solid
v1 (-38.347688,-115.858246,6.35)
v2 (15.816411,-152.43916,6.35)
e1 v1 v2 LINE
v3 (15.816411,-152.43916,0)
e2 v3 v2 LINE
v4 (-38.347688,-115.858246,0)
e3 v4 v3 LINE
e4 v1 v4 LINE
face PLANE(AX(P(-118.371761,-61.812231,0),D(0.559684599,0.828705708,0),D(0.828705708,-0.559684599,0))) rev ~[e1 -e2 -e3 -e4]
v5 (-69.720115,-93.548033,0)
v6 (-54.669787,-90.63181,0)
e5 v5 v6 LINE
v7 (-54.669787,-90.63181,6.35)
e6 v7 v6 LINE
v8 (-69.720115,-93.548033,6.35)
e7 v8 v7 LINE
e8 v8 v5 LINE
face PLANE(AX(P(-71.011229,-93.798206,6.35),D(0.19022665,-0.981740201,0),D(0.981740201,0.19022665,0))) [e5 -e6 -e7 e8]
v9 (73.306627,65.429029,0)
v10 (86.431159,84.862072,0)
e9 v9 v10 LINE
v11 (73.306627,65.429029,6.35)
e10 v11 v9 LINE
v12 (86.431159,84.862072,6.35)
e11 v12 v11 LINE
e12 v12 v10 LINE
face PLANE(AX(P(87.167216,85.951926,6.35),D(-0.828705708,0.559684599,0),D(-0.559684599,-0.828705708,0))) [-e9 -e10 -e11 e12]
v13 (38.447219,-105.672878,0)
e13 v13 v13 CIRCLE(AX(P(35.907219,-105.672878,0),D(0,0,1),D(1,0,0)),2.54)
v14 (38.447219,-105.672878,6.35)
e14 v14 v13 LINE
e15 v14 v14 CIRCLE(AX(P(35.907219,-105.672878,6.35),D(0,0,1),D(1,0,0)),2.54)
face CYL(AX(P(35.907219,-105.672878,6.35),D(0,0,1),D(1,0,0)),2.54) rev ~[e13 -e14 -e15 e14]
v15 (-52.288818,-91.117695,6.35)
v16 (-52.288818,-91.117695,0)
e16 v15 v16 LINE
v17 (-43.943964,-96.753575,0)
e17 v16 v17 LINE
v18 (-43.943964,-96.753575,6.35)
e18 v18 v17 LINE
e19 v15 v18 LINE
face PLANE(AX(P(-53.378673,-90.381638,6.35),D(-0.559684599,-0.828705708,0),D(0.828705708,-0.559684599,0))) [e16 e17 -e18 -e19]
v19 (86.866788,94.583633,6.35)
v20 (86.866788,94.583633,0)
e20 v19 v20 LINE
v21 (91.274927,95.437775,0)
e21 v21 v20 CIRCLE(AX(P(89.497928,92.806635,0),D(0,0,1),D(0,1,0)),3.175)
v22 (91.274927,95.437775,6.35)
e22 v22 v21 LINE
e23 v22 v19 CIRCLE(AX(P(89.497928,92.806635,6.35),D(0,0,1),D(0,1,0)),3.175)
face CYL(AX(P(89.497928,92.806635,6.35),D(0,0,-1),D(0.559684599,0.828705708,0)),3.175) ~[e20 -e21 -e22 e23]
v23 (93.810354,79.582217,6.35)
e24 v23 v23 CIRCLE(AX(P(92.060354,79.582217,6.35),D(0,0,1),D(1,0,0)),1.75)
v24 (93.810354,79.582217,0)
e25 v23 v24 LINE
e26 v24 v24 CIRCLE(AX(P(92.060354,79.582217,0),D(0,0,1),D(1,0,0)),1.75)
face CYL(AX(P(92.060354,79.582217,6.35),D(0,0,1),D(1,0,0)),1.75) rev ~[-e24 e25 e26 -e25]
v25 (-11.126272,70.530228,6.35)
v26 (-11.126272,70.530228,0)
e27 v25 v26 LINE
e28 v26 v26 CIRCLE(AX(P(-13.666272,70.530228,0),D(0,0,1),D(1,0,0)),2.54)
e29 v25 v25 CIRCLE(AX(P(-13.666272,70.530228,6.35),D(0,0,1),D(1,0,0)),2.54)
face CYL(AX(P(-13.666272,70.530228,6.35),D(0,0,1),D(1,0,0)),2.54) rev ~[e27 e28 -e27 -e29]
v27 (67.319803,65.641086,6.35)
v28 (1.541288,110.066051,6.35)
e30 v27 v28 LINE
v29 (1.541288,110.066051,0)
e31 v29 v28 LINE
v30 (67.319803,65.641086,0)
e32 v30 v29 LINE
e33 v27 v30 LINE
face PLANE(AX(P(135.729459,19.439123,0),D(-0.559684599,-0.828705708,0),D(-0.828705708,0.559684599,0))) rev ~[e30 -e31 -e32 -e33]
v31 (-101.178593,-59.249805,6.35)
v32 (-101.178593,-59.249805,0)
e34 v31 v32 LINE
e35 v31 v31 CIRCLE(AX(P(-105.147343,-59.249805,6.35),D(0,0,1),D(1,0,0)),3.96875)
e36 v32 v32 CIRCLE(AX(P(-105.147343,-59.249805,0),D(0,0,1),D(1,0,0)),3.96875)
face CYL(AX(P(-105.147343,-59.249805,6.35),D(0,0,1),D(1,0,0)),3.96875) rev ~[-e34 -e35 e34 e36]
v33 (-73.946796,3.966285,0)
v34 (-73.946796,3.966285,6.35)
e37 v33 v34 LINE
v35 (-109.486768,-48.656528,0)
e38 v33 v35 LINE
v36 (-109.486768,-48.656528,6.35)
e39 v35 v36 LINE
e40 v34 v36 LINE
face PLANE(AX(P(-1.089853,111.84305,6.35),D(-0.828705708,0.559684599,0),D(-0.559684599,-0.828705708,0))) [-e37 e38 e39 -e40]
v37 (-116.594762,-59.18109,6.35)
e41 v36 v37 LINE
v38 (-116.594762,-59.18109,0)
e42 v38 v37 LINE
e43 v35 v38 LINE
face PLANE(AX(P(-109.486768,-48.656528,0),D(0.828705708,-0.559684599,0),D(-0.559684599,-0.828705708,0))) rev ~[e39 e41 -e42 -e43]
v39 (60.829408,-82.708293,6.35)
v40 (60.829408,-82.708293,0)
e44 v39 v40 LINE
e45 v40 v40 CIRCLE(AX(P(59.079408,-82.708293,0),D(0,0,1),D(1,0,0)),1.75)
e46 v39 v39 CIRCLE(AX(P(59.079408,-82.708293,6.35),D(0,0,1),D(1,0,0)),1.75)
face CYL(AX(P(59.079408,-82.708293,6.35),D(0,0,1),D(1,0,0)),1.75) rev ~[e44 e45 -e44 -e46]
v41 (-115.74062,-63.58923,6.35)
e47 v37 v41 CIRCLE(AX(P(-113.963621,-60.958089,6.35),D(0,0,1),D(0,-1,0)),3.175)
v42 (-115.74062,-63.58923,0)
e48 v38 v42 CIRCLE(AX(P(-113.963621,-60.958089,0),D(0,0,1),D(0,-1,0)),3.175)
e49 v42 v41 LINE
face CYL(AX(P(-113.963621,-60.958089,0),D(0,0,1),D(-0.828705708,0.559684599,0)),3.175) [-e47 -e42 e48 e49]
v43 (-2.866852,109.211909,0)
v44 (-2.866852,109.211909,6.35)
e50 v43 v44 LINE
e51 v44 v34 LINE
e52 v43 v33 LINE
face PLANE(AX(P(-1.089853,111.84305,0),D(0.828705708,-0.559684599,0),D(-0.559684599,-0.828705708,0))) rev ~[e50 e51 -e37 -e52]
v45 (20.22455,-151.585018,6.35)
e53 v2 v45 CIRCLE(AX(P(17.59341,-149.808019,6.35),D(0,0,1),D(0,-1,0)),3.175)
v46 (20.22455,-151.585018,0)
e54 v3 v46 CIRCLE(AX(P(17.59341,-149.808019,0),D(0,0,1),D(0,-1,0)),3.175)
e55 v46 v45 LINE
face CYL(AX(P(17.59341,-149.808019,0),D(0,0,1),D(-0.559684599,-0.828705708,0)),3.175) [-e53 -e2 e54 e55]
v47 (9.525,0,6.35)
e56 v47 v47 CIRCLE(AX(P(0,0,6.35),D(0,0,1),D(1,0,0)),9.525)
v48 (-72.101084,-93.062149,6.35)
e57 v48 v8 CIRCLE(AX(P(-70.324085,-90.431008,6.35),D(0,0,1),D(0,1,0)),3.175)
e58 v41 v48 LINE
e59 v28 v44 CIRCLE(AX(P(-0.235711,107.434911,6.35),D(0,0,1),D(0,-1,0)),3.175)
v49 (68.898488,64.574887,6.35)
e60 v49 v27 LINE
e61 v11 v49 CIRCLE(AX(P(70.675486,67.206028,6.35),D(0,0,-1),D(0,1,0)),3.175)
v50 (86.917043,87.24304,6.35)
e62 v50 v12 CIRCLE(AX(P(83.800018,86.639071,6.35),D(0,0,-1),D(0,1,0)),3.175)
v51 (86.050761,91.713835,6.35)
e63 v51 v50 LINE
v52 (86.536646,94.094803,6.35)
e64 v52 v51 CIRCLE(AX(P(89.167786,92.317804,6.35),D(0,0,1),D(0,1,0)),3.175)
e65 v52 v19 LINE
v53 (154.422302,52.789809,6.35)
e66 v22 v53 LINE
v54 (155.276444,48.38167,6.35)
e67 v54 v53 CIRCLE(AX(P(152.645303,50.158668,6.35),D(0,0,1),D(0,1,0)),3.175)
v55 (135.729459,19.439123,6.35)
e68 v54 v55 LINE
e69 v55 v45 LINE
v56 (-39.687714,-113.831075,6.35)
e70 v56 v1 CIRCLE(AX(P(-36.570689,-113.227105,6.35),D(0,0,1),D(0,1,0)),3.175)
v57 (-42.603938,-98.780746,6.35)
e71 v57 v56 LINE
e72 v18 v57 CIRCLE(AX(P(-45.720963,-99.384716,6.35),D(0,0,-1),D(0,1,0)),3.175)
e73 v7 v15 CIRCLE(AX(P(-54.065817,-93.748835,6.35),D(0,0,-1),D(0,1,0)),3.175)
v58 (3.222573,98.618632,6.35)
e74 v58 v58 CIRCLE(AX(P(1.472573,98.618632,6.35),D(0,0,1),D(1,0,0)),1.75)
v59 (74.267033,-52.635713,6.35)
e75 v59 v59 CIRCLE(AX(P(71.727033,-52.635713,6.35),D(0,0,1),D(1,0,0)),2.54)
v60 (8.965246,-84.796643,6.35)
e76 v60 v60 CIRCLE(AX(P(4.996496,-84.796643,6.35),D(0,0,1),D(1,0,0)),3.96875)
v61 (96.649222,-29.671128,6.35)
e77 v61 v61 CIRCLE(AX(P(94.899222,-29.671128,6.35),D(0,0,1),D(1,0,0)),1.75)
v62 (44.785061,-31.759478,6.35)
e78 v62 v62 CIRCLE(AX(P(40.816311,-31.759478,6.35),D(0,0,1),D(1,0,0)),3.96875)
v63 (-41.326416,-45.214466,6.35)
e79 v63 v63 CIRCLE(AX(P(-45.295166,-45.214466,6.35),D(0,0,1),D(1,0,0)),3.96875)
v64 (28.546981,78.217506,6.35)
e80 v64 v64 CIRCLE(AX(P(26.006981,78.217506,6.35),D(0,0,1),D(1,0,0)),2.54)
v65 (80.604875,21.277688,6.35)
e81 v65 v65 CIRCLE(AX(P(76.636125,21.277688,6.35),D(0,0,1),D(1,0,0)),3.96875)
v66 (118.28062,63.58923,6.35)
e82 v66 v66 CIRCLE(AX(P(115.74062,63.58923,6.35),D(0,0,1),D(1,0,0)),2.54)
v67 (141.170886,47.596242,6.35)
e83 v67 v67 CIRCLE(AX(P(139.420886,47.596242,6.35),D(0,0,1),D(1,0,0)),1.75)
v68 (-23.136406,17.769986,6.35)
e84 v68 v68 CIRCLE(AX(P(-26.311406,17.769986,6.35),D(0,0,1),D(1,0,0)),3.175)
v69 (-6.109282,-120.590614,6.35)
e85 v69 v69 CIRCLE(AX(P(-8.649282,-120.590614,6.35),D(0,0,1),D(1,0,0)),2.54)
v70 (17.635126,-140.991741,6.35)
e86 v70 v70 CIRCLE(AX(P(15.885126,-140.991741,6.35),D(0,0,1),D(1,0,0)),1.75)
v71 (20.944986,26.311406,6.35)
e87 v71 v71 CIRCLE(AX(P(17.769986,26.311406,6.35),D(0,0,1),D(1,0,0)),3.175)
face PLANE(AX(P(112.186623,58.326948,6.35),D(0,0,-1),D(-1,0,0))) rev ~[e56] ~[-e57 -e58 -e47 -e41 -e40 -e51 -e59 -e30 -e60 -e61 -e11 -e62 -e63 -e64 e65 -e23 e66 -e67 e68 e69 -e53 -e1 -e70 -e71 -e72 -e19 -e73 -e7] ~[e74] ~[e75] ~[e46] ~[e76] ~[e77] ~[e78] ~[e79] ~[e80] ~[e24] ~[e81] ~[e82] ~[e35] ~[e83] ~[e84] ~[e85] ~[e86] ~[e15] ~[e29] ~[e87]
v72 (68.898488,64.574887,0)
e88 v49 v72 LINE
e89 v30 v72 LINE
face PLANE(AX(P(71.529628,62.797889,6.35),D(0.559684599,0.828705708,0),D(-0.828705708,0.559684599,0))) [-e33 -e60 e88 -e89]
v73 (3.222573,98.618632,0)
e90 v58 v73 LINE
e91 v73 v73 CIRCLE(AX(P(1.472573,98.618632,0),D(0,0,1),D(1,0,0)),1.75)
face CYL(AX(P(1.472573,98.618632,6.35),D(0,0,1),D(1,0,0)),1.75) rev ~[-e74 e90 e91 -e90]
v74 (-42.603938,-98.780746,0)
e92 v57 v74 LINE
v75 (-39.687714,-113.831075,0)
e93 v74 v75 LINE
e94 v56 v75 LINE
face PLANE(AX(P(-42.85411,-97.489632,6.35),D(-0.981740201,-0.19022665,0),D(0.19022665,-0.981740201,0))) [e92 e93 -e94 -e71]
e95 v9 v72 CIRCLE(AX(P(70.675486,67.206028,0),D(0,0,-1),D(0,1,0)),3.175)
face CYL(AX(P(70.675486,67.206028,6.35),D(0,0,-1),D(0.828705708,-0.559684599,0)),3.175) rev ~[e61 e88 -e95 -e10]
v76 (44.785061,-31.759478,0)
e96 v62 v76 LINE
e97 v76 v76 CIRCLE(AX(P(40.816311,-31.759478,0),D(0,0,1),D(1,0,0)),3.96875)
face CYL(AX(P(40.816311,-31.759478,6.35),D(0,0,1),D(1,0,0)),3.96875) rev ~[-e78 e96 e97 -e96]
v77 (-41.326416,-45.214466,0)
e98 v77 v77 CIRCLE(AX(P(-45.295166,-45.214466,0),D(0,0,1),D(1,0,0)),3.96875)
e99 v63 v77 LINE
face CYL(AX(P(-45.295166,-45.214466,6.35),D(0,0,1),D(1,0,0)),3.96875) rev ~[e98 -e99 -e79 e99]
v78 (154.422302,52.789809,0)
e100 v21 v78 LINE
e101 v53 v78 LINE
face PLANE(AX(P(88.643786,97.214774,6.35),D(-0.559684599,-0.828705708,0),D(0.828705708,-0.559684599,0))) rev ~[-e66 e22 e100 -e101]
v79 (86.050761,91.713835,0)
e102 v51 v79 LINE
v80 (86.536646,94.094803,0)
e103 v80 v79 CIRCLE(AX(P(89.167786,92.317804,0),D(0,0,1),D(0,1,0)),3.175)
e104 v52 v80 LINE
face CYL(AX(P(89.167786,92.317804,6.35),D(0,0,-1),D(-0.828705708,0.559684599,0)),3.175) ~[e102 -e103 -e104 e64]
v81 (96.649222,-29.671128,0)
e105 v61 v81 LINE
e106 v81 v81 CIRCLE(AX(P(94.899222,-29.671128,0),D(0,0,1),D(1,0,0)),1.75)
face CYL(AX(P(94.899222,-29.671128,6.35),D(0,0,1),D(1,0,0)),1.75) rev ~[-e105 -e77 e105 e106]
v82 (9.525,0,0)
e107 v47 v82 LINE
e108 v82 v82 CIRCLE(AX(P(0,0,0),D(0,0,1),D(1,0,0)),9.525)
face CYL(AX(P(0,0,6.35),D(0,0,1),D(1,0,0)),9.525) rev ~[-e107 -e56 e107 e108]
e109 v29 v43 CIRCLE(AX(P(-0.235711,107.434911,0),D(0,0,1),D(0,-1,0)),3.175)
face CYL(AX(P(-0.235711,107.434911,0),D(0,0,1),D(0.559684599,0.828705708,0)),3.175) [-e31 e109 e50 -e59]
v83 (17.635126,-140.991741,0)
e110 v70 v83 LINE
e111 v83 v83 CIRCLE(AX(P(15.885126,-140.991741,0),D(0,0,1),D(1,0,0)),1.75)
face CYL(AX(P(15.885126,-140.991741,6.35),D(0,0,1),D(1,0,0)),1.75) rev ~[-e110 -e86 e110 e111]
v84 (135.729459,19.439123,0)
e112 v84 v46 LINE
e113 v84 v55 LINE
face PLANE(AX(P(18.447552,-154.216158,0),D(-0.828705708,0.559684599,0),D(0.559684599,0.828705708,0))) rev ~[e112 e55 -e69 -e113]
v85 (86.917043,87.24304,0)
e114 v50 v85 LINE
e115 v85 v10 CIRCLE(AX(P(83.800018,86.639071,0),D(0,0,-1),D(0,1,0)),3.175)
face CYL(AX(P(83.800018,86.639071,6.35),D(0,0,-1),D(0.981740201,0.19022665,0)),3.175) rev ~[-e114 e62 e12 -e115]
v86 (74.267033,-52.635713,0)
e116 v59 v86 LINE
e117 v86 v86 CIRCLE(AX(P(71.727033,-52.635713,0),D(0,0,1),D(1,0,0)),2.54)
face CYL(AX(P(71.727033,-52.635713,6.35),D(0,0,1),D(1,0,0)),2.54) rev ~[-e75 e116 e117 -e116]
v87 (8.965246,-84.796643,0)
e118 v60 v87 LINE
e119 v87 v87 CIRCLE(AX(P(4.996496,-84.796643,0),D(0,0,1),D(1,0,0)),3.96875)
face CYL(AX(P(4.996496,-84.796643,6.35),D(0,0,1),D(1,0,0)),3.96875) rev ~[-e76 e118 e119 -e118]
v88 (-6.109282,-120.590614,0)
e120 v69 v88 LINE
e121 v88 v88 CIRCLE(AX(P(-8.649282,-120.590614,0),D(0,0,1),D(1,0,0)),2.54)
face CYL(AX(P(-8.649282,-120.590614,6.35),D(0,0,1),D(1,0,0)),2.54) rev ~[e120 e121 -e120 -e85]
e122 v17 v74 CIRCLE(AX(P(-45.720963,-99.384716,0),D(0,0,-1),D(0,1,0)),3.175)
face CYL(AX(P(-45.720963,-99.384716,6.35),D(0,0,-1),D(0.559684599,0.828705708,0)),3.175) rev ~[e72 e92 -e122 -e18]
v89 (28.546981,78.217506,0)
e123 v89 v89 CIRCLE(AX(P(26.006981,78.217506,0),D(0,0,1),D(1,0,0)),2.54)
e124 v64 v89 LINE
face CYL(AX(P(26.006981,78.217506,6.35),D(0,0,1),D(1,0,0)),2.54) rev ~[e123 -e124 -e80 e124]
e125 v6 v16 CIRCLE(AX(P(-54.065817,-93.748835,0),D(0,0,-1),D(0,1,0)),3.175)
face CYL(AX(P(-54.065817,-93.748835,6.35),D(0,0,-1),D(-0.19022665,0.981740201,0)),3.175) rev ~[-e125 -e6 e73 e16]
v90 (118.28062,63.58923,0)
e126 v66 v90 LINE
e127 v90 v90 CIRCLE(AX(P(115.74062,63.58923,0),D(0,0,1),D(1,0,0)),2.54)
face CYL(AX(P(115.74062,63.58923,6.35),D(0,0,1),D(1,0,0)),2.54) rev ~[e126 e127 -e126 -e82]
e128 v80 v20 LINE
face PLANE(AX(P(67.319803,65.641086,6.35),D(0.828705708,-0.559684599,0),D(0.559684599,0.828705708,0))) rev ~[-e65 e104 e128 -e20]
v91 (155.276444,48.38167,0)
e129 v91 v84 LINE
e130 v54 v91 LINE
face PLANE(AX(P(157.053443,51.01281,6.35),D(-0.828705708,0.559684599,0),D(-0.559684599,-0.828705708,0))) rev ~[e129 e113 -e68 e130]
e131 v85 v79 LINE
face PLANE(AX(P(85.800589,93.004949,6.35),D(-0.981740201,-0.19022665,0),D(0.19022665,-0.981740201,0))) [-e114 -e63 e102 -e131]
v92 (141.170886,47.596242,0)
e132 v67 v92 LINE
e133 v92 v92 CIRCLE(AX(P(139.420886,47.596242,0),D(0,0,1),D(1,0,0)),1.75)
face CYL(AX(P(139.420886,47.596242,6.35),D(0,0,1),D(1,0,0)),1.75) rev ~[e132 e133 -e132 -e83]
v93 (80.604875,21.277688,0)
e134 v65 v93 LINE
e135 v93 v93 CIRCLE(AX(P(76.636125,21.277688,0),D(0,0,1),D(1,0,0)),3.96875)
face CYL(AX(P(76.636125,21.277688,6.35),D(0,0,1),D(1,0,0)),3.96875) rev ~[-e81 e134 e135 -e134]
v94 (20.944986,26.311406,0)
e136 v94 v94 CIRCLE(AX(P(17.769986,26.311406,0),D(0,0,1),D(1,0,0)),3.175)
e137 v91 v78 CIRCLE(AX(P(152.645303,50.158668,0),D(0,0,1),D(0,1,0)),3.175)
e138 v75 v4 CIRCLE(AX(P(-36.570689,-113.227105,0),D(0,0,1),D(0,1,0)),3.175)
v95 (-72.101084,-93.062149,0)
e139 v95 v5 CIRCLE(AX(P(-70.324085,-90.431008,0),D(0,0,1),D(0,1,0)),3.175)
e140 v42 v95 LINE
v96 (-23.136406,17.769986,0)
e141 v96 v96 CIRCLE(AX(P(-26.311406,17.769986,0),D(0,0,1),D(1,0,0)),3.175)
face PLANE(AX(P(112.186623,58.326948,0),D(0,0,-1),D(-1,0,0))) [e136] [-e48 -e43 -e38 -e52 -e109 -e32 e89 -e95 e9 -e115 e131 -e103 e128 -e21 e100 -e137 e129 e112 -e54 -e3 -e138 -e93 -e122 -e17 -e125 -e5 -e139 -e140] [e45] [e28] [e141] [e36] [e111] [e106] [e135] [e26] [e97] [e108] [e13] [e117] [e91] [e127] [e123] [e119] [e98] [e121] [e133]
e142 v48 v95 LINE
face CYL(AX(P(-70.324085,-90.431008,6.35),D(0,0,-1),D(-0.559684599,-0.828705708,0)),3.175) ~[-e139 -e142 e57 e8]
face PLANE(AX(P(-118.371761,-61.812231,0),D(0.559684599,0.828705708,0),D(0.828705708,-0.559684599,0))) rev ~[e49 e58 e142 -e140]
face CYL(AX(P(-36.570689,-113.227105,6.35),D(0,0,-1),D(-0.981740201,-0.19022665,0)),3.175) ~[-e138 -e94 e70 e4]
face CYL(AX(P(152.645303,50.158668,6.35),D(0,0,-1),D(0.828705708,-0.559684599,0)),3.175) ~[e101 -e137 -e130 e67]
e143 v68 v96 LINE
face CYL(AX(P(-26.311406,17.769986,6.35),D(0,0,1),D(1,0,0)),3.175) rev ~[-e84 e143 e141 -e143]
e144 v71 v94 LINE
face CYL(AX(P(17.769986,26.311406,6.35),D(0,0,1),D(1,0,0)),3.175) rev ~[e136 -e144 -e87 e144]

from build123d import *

# Parameters (mm, degrees)
BOSS_EXTRUDE2_DEPTH = 6.35
CUT_EXTRUDE1_DEPTH  = 7.3500001
BOSS_EXTRUDE3_DEPTH = 6.35
SKETCH10_R          = 3.96875
CUT_EXTRUDE2_DEPTH  = 7.35
SKETCH11_R          = 9.525
CUT_EXTRUDE4_DEPTH  = 7.35
BOSS_EXTRUDE4_DEPTH = 6.35
SKETCH13_R          = 1.75
CUT_EXTRUDE5_DEPTH  = 7.35
LPATTERN1_COUNT     = 2
LPATTERN1_PITCH     = 64
SKETCH14_R          = 2.54
CUT_EXTRUDE6_DEPTH  = 7.35
SKETCH15_R          = 1.75
CUT_EXTRUDE7_DEPTH  = 7.35
SKETCH16_R          = 1.75
CUT_EXTRUDE8_DEPTH  = 7.35
SKETCH17_R          = 1.75
CUT_EXTRUDE9_DEPTH  = 7.35
SKETCH19_R          = 3.96875
CUT_EXTRUDE11_DEPTH = 7.35
SKETCH21_R          = 2.54
CUT_EXTRUDE12_DEPTH = 7.35
SKETCH22_R          = 3.175
CUT_EXTRUDE13_DEPTH = 7.35
SKETCH23_R          = 3.96875
CUT_EXTRUDE14_DEPTH = 7.35
SKETCH24_R          = 4.285761756
SKETCH24_R_2        = 5.640780493
BOSS_EXTRUDE5_DEPTH = 6.35
CUT_EXTRUDE15_DEPTH = 7.35
FILLET1_R           = 3.175


with BuildPart() as part:
    # Sketch6 → Boss-Extrude2 (new body)
    with BuildSketch(Plane.XY):
        with BuildLine():
            Line((-68.006850091, -76.67090114), (-109.486767671, -48.656527855))
            Line((-109.486767671, -48.656527855), (-118.371760678, -61.812230963))
            Line((-118.371760678, -61.812230963), (18.447551645, -154.216158235))
            Line((18.447551645, -154.216158235), (135.729459338, 19.43912279))
            Line((135.729459338, 19.43912279), (-1.089852986, 111.843050063))
            Line((-1.089852986, 111.843050063), (-73.946795643, 3.966284577))
            Line((-73.946795643, 3.966284577), (-56.624438948, -7.732749433))
            ThreePointArc((-56.624438948, -7.732749433), (-43.058385537, 37.577891571), (0, 57.15))
            ThreePointArc((0, 57.15), (56.404848571, 31.095576642), (70.829334649, -29.338471048))
            add(Edge.make_bspline(
                [(70.829334649, -29.338471048), (70.811686062, -29.418295928), (70.776015112, -29.578104383), (70.713320217, -29.85478305), (70.619021771, -30.262929245), (70.501052001, -30.762086912), (70.364034474, -31.322191481), (70.199318515, -31.970958926), (70.000453855, -32.723919765), (69.795103485, -33.469783355), (69.582015398, -34.214296028), (69.361377803, -34.956693289), (69.133257682, -35.696762218), (68.838782679, -36.61892651), (68.470566207, -37.720710028), (68.019498024, -38.998776477), (67.474836154, -40.448808619), (66.901337925, -41.887676852), (66.299328392, -43.31485223), (65.669141732, -44.729810424), (65.011119088, -46.132040323), (64.325609411, -47.52103904), (63.612968547, -48.896314904), (62.87355937, -50.257385735), (62.107751613, -51.603779381), (61.315921169, -52.935034173), (60.49845004, -54.250698756), (59.655726138, -55.550331897), (58.571247582, -57.154294757), (57.220953058, -59.045283389), (55.576035723, -61.200397094), (53.604026134, -63.590264702), (51.54329346, -65.904053004), (49.39728314, -68.138962994), (47.169496434, -70.29235602), (44.863486103, -72.361752995), (42.482847363, -74.344831806), (40.031215607, -76.239428526), (36.882516177, -78.494556171), (32.976808929, -81.016011003), (28.250788286, -83.68089187), (21.41551215, -86.919136497), (14.30829026, -89.526654921), (6.996956895, -91.488176442), (-0.451922312, -92.797413176), (-6.61686174, -93.456358442), (-12.81195397, -93.702029749), (-19.009644204, -93.537285056), (-25.183124422, -92.966685286), (-31.306438312, -91.996382122), (-36.598524037, -90.804323442), (-41.072542301, -89.543185606), (-44.752319298, -88.33589156), (-47.664184976, -87.27761875), (-50.541347258, -86.128353728), (-53.381128552, -84.889612663), (-56.180924218, -83.562977818), (-58.593536599, -82.326710176), (-60.633378351, -81.214215821), (-62.313751085, -80.252471782), (-63.646071553, -79.462491566), (-64.966093336, -78.652178853), (-66.222359154, -77.854259082), (-67.143044791, -77.250601571), (-67.736251212, -76.85365602), (-68.006850091, -76.67090114)],
                knots=[0.071020771, 0.071020771, 0.071020771, 0.071020771, 0.071020771, 0.072848477, 0.074676184, 0.07650389, 0.078331597, 0.08198701, 0.085642423, 0.089297836, 0.092953249, 0.096608662, 0.100264075, 0.103919488, 0.107574901, 0.114885727, 0.122196554, 0.12950738, 0.136818214, 0.144129048, 0.151439882, 0.158750716, 0.166061558, 0.173372401, 0.180683243, 0.187994085, 0.195304924, 0.202615763, 0.209926602, 0.217237441, 0.231859103, 0.246480766, 0.261102426, 0.275724085, 0.290345754, 0.304967424, 0.319589099, 0.334210774, 0.348832457, 0.36345414, 0.392697464, 0.421940789, 0.451184112, 0.506140643, 0.535383973, 0.564627303, 0.593870641, 0.623113979, 0.652357319, 0.68160066, 0.710843985, 0.740087309, 0.754708984, 0.769330659, 0.783952333, 0.798574008, 0.813195669, 0.82781733, 0.842438991, 0.849749821, 0.857060652, 0.86437149, 0.871682327, 0.878993165, 0.885158103, 0.885158103, 0.885158103, 0.885158103, 0.885158103], degree=4))
        make_face()
    extrude(amount=BOSS_EXTRUDE2_DEPTH)

    # Sketch8 → Cut-Extrude1 (cut, through all)
    with BuildSketch(Plane.XY.offset(6.35)):
        Polygon((-71.011229489, -93.798205788), (-53.378672597, -90.381637707), (-42.854110111, -97.489632113), (-39.43754203, -115.122189004), align=None)
    extrude(amount=-CUT_EXTRUDE1_DEPTH, mode=Mode.SUBTRACT)

    # Sketch9 → Boss-Extrude3 (add, through all)
    with BuildSketch(Plane.XY.offset(6.35)):
        Polygon((-1.089852986, 111.843050063), (-109.486767671, -48.656527855), (27.332544652, -141.060455127), (135.729459338, 19.43912279), align=None)
    extrude(amount=-BOSS_EXTRUDE3_DEPTH)

    # Sketch10 → Cut-Extrude2 (cut, through all)
    with BuildSketch(Plane.XY.offset(6.35)):
        with Locations((4.996496209, -84.796642912)):
            Circle(SKETCH10_R)
        with Locations((40.816310536, -31.759477627)):
            Circle(SKETCH10_R)
        with Locations((76.636124864, 21.277687659)):
            Circle(SKETCH10_R)
        with Locations((-45.295165913, -45.214466102)):
            Circle(SKETCH10_R)
    extrude(amount=-CUT_EXTRUDE2_DEPTH, mode=Mode.SUBTRACT)

    # Sketch11 → Cut-Extrude4 (cut, through all)
    with BuildSketch(Plane.XY.offset(6.35)):
        Circle(SKETCH11_R)
    extrude(amount=-CUT_EXTRUDE4_DEPTH, mode=Mode.SUBTRACT)

    # Sketch12 → Boss-Extrude4 (add, through all)
    with BuildSketch(Plane.XY.offset(6.35)):
        Polygon((135.729459338, 19.43912279), (67.319803176, 65.641086427), (88.643786393, 97.214773886), (157.053442554, 51.01281025), align=None)
    extrude(amount=-BOSS_EXTRUDE4_DEPTH)

    # Sketch13 → Cut-Extrude5 (cut, through all)
    with BuildSketch(Plane.XY.offset(6.35)):
        with Locations((94.899221836, -29.671127724)):
            Circle(SKETCH13_R)
    cut_extrude5 = extrude(amount=-CUT_EXTRUDE5_DEPTH, mode=Mode.SUBTRACT)

    # LPattern1: Cut-Extrude5 ×2
    with Locations(*[Vector(-0.559684599, -0.828705708, 0) * (i * LPATTERN1_PITCH) for i in range(1, LPATTERN1_COUNT)]):
        add(cut_extrude5, mode=Mode.SUBTRACT)

    # Sketch14 → Cut-Extrude6 (cut, through all)
    with BuildSketch(Plane.XY.offset(6.35)):
        with Locations((71.72703343, -52.635713164)):
            Circle(SKETCH14_R)
        with Locations((35.907219102, -105.67287845)):
            Circle(SKETCH14_R)
        with Locations((115.740620068, 63.589229581)):
            Circle(SKETCH14_R)
    extrude(amount=-CUT_EXTRUDE6_DEPTH, mode=Mode.SUBTRACT)

    # Sketch15 → Cut-Extrude7 (cut, through all)
    with BuildSketch(Plane.XY.offset(6.35)):
        with Locations((-105.147343009, -59.249804902)):
            Circle(SKETCH15_R)
        with Locations((15.885125585, -140.991740566)):
            Circle(SKETCH15_R)
        with Locations((1.472573075, 98.618632394)):
            Circle(SKETCH15_R)
    extrude(amount=-CUT_EXTRUDE7_DEPTH, mode=Mode.SUBTRACT)

    # Sketch16 → Cut-Extrude8 (cut, through all)
    with BuildSketch(Plane.XY.offset(6.35)):
        with Locations((92.060354474, 79.582216994)):
            Circle(SKETCH16_R)
        with Locations((139.420885662, 47.596242169)):
            Circle(SKETCH16_R)
    extrude(amount=-CUT_EXTRUDE8_DEPTH, mode=Mode.SUBTRACT)

    # Sketch17 → Cut-Extrude9 (cut, through all)
    with BuildSketch(Plane.XY.offset(6.35)):
        with Locations((-26.311406216, 17.769986014)):
            Circle(SKETCH17_R)
        with Locations((17.769986014, 26.311406216)):
            Circle(SKETCH17_R)
    extrude(amount=-CUT_EXTRUDE9_DEPTH, mode=Mode.SUBTRACT)

    # Sketch19 → Cut-Extrude11 (cut, through all)
    with BuildSketch(Plane.XY.offset(6.35)):
        with Locations((-65.680233685, -85.904783923)):
            Circle(SKETCH19_R)
    extrude(amount=-CUT_EXTRUDE11_DEPTH, mode=Mode.SUBTRACT)

    # Sketch21 → Cut-Extrude12 (cut, through all)
    with BuildSketch(Plane.XY.offset(6.35)):
        with Locations((-13.666272317, 70.530227577)):
            Circle(SKETCH21_R)
        with Locations((26.00698069, 78.217505758)):
            Circle(SKETCH21_R)
        with Locations((-86.729358658, -71.688795112)):
            Circle(SKETCH21_R)
        with Locations((-8.64928203, -120.590613931)):
            Circle(SKETCH21_R)
    extrude(amount=-CUT_EXTRUDE12_DEPTH, mode=Mode.SUBTRACT)

    # Sketch22 → Cut-Extrude13 (cut, through all)
    with BuildSketch(Plane.XY.offset(6.35)):
        with Locations((-26.311406216, 17.769986014)):
            Circle(SKETCH22_R)
        with Locations((17.769986014, 26.311406216)):
            Circle(SKETCH22_R)
    extrude(amount=-CUT_EXTRUDE13_DEPTH, mode=Mode.SUBTRACT)

    # Sketch23 → Cut-Extrude14 (cut, through all)
    with BuildSketch(Plane.XY.offset(6.35)):
        with Locations((-105.147343009, -59.249804902)):
            Circle(SKETCH23_R)
    extrude(amount=-CUT_EXTRUDE14_DEPTH, mode=Mode.SUBTRACT)

    # Sketch24 → Boss-Extrude5 (add, through all)
    with BuildSketch(Plane.XY.offset(6.35)):
        with Locations((-86.729358658, -71.688795112)):
            Circle(SKETCH24_R)
        with Locations((-65.680233685, -85.904783923)):
            Circle(SKETCH24_R_2)
    extrude(amount=-BOSS_EXTRUDE5_DEPTH)

    # Sketch25 → Cut-Extrude15 (cut, through all)
    with BuildSketch(Plane.XY.offset(6.35)):
        Polygon((85.800588631, 93.004948891), (87.167215863, 85.951926135), (71.529628171, 62.797888664), (67.319803176, 65.641086427), align=None)
    extrude(amount=-CUT_EXTRUDE15_DEPTH, mode=Mode.SUBTRACT)

    # Fillet1
    fillet1_edges = [part.edges().sort_by_distance(p)[0] for p in [
        (-1.089852986, 111.843050063, 3.175),
        (18.447551645, -154.216158235, 3.175),
        (-118.371760678, -61.812230963, 3.175),
        (85.800588631, 93.004948891, 3.175),
        (87.167215863, 85.951926135, 3.175),
        (71.529628171, 62.797888664, 3.175),
        (-39.43754203, -115.122189004, 3.175),
        (-71.011229489, -93.798205788, 3.175),
        (-53.378672597, -90.381637707, 3.175),
        (-42.854110111, -97.489632113, 3.175),
        (157.053442554, 51.01281025, 3.175),
        (88.643786393, 97.214773886, 3.175),
    ]]
    fillet(fillet1_edges, radius=FILLET1_R)


solid = part.part
